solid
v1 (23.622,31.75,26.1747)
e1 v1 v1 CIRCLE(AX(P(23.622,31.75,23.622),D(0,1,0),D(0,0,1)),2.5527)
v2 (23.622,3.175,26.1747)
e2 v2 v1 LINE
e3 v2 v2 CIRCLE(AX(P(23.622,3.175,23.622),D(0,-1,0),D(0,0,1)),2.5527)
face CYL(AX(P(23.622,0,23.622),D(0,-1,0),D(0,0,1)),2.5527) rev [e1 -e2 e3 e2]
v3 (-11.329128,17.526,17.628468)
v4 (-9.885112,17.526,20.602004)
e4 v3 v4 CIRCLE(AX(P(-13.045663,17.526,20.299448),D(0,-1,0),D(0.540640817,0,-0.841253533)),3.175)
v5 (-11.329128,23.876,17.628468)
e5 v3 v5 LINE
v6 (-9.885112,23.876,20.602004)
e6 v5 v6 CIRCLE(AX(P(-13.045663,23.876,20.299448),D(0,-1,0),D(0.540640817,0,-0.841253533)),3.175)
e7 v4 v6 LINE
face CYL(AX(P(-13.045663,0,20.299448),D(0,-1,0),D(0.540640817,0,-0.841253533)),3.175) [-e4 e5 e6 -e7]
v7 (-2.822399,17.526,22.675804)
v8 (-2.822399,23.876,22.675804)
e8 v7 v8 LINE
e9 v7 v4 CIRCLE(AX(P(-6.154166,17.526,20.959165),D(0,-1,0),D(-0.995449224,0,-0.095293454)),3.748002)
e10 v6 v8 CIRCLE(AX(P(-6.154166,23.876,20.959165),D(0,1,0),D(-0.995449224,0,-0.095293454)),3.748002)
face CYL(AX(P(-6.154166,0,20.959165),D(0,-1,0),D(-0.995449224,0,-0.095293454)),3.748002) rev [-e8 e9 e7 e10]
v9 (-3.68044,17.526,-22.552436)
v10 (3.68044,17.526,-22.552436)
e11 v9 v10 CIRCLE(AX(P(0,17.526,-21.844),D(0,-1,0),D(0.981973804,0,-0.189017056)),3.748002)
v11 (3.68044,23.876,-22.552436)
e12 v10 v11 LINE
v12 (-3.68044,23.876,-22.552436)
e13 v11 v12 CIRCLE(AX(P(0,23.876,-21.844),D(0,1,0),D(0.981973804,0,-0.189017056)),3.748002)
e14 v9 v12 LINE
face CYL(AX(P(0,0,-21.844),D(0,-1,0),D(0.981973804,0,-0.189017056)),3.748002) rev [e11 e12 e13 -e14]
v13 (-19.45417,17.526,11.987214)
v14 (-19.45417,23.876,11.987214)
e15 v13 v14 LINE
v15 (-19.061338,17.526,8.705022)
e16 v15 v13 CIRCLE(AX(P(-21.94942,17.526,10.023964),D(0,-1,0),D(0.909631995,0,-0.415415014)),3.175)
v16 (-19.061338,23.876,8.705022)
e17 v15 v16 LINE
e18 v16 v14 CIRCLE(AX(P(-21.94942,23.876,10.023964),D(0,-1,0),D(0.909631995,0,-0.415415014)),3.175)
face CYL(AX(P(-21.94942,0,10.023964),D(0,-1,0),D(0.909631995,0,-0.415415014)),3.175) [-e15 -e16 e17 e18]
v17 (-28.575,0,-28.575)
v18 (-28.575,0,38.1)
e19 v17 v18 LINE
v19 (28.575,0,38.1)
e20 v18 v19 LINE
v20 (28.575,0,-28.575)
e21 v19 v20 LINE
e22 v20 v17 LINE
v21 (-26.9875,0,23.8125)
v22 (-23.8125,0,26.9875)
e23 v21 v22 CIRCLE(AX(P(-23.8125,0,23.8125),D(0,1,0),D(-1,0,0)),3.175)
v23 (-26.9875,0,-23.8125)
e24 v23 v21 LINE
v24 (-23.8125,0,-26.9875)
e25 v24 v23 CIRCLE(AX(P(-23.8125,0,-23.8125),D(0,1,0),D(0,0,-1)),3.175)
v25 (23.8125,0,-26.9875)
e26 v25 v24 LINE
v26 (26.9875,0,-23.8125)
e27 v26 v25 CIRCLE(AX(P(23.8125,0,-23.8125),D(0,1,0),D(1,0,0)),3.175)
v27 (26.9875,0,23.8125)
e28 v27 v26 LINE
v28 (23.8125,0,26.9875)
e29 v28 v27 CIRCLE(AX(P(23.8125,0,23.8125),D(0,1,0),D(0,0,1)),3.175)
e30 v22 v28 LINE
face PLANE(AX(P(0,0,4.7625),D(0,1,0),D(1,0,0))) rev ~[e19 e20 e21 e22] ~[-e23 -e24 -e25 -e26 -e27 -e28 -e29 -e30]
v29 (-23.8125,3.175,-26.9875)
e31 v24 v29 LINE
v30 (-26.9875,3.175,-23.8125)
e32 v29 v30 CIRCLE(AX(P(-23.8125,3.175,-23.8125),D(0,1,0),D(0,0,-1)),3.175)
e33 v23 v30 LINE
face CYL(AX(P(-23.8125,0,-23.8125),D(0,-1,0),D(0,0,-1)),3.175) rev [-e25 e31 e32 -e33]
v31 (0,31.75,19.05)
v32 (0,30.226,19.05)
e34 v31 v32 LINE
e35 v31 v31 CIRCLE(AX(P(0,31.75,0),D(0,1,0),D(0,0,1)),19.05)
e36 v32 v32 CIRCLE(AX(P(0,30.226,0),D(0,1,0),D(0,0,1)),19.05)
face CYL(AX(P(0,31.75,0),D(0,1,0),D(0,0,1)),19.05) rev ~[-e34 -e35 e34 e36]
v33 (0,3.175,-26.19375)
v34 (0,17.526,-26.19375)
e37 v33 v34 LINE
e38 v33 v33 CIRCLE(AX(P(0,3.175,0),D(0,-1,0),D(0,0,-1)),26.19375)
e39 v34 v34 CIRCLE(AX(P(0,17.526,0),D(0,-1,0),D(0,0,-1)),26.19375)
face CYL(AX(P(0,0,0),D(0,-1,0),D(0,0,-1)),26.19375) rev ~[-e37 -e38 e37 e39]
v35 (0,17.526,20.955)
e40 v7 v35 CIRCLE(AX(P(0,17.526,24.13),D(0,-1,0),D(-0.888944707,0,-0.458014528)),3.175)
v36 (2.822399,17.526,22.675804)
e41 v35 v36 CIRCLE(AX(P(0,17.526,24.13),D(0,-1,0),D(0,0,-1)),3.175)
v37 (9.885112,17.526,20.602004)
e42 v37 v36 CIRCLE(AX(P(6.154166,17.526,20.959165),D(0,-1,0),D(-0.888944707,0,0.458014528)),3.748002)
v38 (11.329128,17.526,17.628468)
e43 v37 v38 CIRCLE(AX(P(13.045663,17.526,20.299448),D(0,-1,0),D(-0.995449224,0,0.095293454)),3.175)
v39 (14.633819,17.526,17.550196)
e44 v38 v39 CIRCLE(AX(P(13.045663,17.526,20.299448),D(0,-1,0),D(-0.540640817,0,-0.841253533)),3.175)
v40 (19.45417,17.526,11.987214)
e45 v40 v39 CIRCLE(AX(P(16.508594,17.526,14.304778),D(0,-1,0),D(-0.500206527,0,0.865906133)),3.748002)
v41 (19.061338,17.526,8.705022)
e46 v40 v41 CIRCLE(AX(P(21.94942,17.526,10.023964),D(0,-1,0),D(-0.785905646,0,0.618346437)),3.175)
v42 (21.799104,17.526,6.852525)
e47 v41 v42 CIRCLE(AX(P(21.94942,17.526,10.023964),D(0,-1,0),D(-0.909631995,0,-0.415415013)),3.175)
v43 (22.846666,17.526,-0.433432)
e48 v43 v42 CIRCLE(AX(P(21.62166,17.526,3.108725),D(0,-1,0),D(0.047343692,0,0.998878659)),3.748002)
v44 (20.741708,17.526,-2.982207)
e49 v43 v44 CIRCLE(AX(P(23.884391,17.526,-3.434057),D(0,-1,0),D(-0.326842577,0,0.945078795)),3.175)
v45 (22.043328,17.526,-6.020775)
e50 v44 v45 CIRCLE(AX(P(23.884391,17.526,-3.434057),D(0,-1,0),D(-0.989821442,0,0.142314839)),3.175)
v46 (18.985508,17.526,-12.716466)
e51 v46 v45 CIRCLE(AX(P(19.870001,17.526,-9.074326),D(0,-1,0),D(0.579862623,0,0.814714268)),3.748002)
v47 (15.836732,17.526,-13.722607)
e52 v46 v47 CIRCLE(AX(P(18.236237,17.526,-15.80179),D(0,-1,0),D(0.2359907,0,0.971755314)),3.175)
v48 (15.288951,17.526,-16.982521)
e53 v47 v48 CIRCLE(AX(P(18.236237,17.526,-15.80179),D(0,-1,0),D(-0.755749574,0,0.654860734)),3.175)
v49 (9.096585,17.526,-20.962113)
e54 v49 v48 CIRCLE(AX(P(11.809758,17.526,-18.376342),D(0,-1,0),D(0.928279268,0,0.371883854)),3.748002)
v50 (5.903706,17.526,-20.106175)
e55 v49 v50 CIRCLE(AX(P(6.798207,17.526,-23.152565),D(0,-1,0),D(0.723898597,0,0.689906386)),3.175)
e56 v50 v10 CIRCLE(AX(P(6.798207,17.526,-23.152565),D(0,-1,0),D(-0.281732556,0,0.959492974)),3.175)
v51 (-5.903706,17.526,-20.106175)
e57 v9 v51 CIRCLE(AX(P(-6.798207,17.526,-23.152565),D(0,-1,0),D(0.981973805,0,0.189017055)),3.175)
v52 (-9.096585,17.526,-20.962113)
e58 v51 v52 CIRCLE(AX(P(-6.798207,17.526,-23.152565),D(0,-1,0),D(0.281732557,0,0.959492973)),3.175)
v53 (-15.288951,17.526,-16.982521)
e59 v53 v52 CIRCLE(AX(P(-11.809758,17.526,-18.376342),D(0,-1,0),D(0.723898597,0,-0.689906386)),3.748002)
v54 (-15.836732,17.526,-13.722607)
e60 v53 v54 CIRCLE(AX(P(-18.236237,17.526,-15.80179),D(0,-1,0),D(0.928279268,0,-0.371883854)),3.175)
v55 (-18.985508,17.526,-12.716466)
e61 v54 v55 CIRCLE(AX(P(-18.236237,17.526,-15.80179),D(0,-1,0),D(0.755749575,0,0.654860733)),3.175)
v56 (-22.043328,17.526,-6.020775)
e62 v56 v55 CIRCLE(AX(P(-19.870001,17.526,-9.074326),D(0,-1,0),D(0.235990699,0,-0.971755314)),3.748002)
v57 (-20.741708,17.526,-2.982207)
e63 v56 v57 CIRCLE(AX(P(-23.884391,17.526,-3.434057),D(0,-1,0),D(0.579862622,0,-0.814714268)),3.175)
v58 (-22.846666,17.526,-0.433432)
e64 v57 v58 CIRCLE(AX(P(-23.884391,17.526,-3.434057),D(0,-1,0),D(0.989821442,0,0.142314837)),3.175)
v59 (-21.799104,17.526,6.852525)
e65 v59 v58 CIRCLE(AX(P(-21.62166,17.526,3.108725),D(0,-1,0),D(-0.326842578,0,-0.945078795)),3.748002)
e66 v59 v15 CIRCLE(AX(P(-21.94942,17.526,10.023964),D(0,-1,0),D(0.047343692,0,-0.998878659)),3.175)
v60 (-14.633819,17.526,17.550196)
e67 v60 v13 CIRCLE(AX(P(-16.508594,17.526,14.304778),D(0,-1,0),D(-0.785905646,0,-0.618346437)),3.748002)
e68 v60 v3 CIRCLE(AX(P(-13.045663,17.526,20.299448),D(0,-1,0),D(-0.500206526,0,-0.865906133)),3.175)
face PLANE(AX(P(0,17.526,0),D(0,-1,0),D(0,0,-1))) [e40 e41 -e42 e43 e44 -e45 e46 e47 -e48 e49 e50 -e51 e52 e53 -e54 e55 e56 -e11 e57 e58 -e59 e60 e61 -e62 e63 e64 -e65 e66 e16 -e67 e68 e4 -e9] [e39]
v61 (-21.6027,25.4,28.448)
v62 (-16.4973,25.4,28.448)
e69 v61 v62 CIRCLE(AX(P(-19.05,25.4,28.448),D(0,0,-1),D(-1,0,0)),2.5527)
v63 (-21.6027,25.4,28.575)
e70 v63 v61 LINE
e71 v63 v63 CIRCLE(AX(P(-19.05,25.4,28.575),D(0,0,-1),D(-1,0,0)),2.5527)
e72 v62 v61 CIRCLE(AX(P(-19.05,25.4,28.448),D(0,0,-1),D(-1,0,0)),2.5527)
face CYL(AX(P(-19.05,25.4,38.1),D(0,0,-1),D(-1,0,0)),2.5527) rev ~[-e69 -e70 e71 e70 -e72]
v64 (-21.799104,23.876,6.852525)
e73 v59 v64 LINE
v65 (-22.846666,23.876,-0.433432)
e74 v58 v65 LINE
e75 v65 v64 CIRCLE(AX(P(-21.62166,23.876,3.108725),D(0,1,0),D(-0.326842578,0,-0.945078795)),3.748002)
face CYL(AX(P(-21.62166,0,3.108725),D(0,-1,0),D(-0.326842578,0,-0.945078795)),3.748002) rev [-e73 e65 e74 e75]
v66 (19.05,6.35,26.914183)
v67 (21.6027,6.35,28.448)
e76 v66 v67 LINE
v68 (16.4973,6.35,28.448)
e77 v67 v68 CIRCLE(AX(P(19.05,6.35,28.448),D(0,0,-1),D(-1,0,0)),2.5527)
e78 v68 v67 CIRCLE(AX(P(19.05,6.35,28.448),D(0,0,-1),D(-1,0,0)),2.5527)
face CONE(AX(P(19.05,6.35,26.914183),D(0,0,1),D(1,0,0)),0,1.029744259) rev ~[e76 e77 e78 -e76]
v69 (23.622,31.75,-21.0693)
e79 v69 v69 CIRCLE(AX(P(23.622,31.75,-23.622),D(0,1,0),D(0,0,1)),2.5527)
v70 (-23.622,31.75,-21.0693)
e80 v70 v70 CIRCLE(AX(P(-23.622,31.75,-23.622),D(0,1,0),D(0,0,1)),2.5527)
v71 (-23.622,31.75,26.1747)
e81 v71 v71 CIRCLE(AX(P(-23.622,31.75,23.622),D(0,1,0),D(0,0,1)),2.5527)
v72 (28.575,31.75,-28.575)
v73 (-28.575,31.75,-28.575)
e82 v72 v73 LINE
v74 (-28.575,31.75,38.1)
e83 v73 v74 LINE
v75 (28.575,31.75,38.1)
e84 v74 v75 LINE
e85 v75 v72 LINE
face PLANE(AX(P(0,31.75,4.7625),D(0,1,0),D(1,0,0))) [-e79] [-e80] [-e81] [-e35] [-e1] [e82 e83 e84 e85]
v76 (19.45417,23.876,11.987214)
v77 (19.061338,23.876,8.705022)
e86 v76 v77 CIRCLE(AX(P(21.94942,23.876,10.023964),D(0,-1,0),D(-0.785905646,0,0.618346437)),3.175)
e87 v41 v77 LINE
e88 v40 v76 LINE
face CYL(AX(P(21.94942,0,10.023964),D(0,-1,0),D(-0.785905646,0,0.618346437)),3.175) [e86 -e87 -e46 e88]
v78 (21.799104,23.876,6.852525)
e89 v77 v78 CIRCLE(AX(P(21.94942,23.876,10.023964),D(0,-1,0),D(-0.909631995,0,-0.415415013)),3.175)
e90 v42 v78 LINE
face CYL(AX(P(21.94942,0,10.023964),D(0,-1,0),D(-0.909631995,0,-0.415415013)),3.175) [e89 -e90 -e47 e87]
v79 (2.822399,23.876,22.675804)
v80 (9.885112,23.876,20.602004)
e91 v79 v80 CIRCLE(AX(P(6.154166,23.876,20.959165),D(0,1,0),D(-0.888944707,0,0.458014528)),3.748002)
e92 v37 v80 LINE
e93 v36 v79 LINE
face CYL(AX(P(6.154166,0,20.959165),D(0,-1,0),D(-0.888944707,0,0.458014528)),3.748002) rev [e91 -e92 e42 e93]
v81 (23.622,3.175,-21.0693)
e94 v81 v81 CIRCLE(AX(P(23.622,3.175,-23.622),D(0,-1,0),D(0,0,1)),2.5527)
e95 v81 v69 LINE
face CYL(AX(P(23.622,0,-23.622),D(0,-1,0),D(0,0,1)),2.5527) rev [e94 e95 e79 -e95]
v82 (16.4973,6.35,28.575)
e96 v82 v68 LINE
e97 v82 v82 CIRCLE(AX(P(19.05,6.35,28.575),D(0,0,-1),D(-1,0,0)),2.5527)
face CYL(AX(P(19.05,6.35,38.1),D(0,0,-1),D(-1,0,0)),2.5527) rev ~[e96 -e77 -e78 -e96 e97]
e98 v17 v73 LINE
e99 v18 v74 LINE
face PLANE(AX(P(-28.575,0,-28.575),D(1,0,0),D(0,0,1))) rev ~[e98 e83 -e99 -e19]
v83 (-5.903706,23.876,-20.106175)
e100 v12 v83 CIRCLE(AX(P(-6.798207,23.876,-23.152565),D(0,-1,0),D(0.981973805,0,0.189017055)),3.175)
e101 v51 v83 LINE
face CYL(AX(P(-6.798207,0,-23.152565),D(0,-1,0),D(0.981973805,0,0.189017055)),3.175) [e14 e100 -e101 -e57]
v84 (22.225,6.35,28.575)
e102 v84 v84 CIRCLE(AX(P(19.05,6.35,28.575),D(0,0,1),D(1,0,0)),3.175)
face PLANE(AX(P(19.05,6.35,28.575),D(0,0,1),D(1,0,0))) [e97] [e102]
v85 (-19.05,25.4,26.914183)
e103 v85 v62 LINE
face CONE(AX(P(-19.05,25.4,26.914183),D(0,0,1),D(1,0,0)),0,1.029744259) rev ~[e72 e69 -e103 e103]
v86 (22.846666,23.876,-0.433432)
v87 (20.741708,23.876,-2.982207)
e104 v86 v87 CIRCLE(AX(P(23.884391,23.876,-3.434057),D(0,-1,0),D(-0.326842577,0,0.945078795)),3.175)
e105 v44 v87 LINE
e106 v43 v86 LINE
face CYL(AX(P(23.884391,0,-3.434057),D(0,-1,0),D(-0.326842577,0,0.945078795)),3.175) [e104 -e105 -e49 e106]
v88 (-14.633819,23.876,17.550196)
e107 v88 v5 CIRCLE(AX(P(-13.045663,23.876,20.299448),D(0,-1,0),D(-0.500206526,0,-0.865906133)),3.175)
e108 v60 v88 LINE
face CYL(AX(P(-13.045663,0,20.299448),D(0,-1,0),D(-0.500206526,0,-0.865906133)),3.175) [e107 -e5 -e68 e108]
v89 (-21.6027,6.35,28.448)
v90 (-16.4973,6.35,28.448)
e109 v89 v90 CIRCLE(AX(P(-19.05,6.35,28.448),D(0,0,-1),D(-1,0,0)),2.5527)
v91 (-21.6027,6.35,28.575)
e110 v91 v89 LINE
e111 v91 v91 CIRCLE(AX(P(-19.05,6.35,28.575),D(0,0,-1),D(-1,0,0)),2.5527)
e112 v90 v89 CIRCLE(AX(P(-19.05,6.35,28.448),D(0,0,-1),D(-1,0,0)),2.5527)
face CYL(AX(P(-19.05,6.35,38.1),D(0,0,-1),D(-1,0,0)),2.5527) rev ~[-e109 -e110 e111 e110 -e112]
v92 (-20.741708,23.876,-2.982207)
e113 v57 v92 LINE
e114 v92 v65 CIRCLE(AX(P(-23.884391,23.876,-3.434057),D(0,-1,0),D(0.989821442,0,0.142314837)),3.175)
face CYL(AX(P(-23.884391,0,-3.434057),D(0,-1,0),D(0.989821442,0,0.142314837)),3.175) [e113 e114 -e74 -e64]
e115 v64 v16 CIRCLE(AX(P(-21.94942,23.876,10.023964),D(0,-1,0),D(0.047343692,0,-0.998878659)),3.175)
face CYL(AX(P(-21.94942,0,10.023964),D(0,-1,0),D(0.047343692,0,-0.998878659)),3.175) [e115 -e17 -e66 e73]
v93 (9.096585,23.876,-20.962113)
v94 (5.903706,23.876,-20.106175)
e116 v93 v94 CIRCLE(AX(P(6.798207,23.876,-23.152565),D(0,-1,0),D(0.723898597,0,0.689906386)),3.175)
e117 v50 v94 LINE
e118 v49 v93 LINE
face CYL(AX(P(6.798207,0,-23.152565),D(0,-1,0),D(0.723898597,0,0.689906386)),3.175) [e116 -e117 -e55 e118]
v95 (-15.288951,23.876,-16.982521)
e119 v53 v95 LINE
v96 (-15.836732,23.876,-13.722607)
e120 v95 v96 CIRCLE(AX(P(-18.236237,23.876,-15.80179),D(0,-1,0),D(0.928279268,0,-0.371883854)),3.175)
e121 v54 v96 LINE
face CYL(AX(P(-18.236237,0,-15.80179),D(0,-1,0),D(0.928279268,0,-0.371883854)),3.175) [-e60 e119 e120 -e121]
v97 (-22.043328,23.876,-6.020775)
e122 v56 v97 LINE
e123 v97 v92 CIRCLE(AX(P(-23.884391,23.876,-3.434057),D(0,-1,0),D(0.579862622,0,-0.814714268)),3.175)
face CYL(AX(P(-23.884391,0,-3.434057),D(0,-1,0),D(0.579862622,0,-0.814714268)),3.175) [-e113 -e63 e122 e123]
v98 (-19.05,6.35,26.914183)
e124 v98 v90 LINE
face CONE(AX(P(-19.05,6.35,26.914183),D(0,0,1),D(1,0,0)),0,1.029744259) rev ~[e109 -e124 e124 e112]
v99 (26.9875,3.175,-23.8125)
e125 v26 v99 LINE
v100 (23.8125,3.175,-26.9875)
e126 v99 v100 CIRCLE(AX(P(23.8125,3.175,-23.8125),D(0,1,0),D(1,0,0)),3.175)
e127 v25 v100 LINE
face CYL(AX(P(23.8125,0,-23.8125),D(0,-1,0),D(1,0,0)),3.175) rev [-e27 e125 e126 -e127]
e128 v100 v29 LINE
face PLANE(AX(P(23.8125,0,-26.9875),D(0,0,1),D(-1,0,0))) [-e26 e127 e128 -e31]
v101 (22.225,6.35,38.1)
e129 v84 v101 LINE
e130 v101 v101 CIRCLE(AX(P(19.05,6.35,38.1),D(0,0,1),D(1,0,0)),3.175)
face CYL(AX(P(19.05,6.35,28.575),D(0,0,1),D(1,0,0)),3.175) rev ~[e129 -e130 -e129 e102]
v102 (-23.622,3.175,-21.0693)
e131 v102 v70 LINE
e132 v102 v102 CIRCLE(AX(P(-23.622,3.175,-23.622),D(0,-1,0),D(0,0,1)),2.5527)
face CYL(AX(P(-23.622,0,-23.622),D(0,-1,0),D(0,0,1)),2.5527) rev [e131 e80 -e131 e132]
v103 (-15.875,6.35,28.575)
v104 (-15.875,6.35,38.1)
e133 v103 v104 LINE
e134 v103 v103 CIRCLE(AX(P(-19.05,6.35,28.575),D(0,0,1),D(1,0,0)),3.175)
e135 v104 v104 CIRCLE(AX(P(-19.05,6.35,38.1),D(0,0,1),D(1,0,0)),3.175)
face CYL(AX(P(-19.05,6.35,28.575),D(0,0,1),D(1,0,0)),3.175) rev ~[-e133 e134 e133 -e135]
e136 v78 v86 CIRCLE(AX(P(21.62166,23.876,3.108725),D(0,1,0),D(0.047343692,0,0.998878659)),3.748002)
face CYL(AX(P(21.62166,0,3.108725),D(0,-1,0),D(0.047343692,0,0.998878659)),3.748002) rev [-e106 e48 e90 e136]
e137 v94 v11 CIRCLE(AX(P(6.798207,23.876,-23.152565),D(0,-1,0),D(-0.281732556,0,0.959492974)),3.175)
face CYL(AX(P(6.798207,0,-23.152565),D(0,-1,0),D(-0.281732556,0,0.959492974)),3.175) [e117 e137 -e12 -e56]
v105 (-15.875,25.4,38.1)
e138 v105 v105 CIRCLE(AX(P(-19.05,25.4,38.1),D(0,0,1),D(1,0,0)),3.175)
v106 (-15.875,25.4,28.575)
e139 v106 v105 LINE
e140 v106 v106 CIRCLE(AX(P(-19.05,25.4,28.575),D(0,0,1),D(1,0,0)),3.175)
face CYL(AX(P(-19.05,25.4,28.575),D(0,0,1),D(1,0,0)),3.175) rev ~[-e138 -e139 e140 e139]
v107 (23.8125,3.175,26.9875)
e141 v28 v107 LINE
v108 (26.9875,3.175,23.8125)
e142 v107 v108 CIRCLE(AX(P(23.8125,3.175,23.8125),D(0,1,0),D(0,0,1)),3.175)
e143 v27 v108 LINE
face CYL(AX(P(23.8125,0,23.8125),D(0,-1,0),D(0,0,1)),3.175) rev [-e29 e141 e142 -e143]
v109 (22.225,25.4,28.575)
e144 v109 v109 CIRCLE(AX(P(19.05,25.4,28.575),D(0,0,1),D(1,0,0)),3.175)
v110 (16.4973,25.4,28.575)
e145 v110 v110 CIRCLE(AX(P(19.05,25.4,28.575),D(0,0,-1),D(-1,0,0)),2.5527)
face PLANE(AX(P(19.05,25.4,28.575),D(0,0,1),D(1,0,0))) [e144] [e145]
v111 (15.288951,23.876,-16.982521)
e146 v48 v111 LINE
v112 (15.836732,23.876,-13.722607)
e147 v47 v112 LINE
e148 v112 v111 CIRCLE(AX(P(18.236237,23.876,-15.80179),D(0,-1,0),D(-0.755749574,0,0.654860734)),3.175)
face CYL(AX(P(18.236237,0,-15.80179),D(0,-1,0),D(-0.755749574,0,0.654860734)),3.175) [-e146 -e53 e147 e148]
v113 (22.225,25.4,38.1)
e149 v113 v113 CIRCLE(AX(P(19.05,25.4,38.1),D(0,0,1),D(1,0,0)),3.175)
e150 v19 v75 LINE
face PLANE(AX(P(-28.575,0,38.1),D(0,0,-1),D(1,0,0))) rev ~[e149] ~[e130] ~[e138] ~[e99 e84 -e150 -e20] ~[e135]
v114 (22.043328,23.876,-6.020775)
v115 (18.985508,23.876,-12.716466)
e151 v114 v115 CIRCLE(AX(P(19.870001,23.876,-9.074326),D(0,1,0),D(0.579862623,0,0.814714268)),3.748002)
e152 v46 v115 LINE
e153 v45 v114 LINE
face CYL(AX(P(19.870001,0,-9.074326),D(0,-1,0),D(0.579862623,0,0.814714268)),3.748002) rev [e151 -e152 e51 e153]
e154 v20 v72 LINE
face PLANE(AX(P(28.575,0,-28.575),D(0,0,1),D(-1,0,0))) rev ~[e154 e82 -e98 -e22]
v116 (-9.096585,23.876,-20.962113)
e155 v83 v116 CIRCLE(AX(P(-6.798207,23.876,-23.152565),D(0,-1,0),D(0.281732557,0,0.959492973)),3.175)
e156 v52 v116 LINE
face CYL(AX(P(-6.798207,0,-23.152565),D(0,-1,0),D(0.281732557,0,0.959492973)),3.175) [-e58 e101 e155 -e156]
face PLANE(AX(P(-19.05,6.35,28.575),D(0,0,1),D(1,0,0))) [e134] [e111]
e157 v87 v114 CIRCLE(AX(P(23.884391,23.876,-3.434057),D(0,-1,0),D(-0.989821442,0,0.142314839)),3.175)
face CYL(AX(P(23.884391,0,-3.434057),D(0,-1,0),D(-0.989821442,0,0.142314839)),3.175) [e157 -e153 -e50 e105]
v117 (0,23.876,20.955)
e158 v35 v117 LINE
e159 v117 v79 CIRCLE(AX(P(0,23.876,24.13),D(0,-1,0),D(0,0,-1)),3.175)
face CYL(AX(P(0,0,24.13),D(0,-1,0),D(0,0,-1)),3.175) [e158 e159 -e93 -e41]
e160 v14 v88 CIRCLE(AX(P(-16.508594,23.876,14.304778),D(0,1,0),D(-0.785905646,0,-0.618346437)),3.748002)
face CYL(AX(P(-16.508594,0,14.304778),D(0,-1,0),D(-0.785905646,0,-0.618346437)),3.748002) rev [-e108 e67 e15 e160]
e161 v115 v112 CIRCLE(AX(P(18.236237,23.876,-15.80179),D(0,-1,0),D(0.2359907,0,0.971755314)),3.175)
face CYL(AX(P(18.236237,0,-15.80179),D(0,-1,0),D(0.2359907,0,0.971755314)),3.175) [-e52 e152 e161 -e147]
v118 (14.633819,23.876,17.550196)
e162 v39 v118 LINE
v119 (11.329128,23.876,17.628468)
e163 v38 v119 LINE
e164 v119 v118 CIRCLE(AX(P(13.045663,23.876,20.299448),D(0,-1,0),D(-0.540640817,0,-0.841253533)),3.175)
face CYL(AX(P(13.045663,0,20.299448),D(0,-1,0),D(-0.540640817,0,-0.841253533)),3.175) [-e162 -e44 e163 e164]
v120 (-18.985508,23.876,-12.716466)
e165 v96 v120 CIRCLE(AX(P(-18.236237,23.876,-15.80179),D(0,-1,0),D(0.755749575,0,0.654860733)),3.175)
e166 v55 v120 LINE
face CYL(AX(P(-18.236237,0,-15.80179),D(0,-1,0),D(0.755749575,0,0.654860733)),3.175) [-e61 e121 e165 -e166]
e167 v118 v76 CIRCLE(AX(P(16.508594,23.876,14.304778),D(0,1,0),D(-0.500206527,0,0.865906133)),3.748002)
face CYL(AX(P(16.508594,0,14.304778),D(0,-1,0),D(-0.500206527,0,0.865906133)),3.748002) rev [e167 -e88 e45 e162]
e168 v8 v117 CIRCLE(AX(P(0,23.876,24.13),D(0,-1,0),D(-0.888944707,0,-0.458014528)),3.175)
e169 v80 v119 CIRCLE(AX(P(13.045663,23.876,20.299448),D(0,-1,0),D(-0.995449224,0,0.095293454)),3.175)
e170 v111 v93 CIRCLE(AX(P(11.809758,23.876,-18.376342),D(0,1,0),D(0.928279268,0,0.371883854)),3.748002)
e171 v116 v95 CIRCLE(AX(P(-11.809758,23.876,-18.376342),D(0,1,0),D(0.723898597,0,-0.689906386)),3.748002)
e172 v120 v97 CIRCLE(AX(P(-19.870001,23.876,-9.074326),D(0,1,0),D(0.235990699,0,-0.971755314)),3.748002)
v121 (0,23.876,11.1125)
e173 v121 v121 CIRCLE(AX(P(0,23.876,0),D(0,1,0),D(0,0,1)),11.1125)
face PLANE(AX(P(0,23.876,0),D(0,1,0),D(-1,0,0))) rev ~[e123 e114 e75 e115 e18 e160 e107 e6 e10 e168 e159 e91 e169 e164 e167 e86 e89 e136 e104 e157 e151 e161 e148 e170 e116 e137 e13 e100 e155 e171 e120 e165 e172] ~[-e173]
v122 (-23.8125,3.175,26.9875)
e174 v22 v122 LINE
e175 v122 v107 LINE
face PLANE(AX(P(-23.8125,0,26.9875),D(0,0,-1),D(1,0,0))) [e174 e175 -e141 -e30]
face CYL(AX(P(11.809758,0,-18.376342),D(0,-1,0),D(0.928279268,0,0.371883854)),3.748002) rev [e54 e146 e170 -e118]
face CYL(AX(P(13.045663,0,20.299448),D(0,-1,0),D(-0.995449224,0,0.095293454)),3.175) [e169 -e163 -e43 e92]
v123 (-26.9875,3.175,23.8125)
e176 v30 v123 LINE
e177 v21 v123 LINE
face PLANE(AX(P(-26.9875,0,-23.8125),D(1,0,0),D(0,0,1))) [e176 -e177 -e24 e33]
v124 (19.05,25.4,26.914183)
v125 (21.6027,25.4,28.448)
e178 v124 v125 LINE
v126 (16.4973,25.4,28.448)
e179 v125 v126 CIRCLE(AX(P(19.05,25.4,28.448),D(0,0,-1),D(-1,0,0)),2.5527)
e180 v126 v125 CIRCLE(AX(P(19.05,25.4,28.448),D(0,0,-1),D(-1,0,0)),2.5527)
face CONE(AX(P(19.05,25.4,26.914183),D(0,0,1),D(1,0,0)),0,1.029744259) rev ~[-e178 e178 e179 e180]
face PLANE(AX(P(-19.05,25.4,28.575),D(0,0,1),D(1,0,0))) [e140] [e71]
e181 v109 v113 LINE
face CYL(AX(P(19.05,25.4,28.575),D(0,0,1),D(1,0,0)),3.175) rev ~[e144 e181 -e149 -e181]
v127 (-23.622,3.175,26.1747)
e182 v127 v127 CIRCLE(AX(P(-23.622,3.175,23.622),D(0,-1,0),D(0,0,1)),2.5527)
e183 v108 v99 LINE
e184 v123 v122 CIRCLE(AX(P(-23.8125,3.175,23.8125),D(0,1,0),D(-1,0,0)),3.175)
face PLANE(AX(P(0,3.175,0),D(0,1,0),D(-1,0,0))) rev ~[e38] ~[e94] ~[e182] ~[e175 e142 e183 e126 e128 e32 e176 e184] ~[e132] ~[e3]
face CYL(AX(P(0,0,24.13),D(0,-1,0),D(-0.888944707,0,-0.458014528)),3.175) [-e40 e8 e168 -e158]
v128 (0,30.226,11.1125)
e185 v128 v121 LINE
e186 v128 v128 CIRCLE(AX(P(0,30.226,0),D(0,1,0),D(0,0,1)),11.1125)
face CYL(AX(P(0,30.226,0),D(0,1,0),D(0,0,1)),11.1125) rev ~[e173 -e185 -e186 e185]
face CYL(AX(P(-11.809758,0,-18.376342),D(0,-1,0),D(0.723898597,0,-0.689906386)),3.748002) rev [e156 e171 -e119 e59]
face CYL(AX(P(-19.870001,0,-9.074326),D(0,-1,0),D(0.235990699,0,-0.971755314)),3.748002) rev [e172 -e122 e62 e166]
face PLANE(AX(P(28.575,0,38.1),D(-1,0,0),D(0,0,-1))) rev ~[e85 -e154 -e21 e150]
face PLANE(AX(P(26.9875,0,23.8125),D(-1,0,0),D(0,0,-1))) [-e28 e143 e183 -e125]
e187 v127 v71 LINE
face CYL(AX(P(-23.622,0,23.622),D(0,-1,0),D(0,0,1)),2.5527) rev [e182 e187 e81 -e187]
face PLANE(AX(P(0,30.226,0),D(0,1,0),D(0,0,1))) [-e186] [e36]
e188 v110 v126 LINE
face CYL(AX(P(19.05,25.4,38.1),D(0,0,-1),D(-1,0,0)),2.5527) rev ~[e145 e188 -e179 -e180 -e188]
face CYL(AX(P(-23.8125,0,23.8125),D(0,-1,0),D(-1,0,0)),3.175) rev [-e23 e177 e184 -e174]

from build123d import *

# Parameters (mm, degrees)
SKETCH1_R                         = 2.5527
BOSS_EXTRUDE1_DEPTH               = 31.75
SKETCH2_R                         = 19.05
CUT_EXTRUDE1_DEPTH                = 1.524
SKETCH3_R                         = 11.1125
CUT_EXTRUDE2_DEPTH                = 57.407018189
CUT_EXTRUDE3_DEPTH                = 23.876
SKETCH5_R                         = 26.19375
CUT_EXTRUDE4_DEPTH                = 17.526
CUT_EXTRUDE5_DEPTH                = 3.175
F_1_4_20_TAPPED_HOLE1_D           = 5.1054
F_1_4_20_TAPPED_HOLE1_DEPTH       = 9.652
F_1_4_20_TAPPED_HOLE1_CBORE_D     = 6.35
F_1_4_20_TAPPED_HOLE1_CBORE_DEPTH = 9.525
F_1_4_20_TAPPED_HOLE1_TIP         = 1.533816902


with BuildPart() as part:
    # Sketch1 → Boss-Extrude1 (new body)
    with BuildSketch(Plane(origin=(0, 0, 0), x_dir=(1, 0, 0), z_dir=(0, 1, 0))):
        Polygon((28.575, 28.575), (-28.575, 28.575), (-28.575, -28.575), (-28.575, -38.1), (28.575, -38.1), (28.575, -28.575), align=None)
        with Locations(Location((23.622, -23.622, 0), (0, 0, 270))):
            Circle(SKETCH1_R, mode=Mode.SUBTRACT)
        with Locations(Location((23.622, 23.622, 0), (0, 0, 270))):
            Circle(SKETCH1_R, mode=Mode.SUBTRACT)
        with Locations(Location((-23.622, 23.622, 0), (0, 0, 270))):
            Circle(SKETCH1_R, mode=Mode.SUBTRACT)
        with Locations(Location((-23.622, -23.622, 0), (0, 0, 270))):
            Circle(SKETCH1_R, mode=Mode.SUBTRACT)
    extrude(amount=BOSS_EXTRUDE1_DEPTH)

    # Sketch2 → Cut-Extrude1 (cut)
    with BuildSketch(Plane(origin=(0, 31.75, 0), x_dir=(1, 0, 0), z_dir=(0, 1, 0))):
        with Locations(Location((0, 0, 0), (0, 0, 270))):
            Circle(SKETCH2_R)
    extrude(amount=-CUT_EXTRUDE1_DEPTH, mode=Mode.SUBTRACT)

    # Sketch3 → Cut-Extrude2 (cut, through all)
    with BuildSketch(Plane(origin=(0, 30.226, 0), x_dir=(1, 0, 0), z_dir=(0, 1, 0))):
        with Locations(Location((0, 0, 0), (0, 0, 270))):
            Circle(SKETCH3_R)
    extrude(amount=-CUT_EXTRUDE2_DEPTH, mode=Mode.SUBTRACT)

    # Sketch4 → Cut-Extrude3 (cut)
    with BuildSketch(Plane.XZ):
        with BuildLine():
            ThreePointArc((0, 20.955), (1.652808564, 21.41912397), (2.822399445, 22.675803874))
            ThreePointArc((2.822399445, 22.675803874), (7.210100154, 24.555346085), (9.885111639, 20.602004462))
            ThreePointArc((9.885111639, 20.602004462), (10.189621648, 18.912489483), (11.32912833, 17.62846778))
            ThreePointArc((11.32912833, 17.62846778), (12.970483736, 17.125337937), (14.633818648, 17.550195776))
            ThreePointArc((14.633818648, 17.550195776), (19.341144607, 16.759197203), (19.454169622, 11.9872142))
            ThreePointArc((19.454169622, 11.9872142), (18.796918984, 10.401273215), (19.061338463, 8.705021597))
            ThreePointArc((19.061338463, 8.705021597), (20.170121967, 7.39437811), (21.799103827, 6.852524522))
            ThreePointArc((21.799103827, 6.852524522), (25.331512305, 3.642121623), (22.846666207, -0.433431873))
            ThreePointArc((22.846666207, -0.433431873), (21.436327355, -1.412273807), (20.741708315, -2.982207436))
            ThreePointArc((20.741708315, -2.982207436), (20.965888988, -4.68424452), (22.043327566, -6.02077485))
            ThreePointArc((22.043327566, -6.02077485), (23.27930383, -10.631301837), (18.985507698, -12.716466389))
            ThreePointArc((18.985507698, -12.716466389), (17.269853253, -12.777433874), (15.836732331, -13.72260668))
            ThreePointArc((15.836732331, -13.72260668), (15.105134394, -15.275652613), (15.288950554, -16.982520747))
            ThreePointArc((15.288950554, -16.982520747), (13.836080873, -21.529362082), (9.09658464, -20.962112676))
            ThreePointArc((9.09658464, -20.962112676), (7.620322766, -20.085848967), (5.903705729, -20.106175262))
            ThreePointArc((5.903705729, -20.106175262), (4.448606357, -21.017148933), (3.680439768, -22.552436301))
            ThreePointArc((3.680439768, -22.552436301), (0, -25.592001984), (-3.680439768, -22.552436301))
            ThreePointArc((-3.680439768, -22.552436301), (-4.448606357, -21.017148933), (-5.903705729, -20.106175262))
            ThreePointArc((-5.903705729, -20.106175262), (-7.620322766, -20.085848967), (-9.09658464, -20.962112676))
            ThreePointArc((-9.09658464, -20.962112676), (-13.836080873, -21.529362082), (-15.288950554, -16.982520747))
            ThreePointArc((-15.288950554, -16.982520747), (-15.105134394, -15.275652613), (-15.836732331, -13.72260668))
            ThreePointArc((-15.836732331, -13.72260668), (-17.269853253, -12.777433874), (-18.985507698, -12.716466389))
            ThreePointArc((-18.985507698, -12.716466389), (-23.27930383, -10.631301837), (-22.043327566, -6.02077485))
            ThreePointArc((-22.043327566, -6.02077485), (-20.965888988, -4.68424452), (-20.741708315, -2.982207436))
            ThreePointArc((-20.741708315, -2.982207436), (-21.436327355, -1.412273807), (-22.846666207, -0.433431873))
            ThreePointArc((-22.846666207, -0.433431873), (-25.331512305, 3.642121623), (-21.799103827, 6.852524522))
            ThreePointArc((-21.799103827, 6.852524522), (-20.170121967, 7.39437811), (-19.061338463, 8.705021597))
            ThreePointArc((-19.061338463, 8.705021597), (-18.796918984, 10.401273215), (-19.454169622, 11.9872142))
            ThreePointArc((-19.454169622, 11.9872142), (-19.341144607, 16.759197203), (-14.633818648, 17.550195776))
            ThreePointArc((-14.633818648, 17.550195776), (-12.970483736, 17.125337937), (-11.32912833, 17.62846778))
            ThreePointArc((-11.32912833, 17.62846778), (-10.189621648, 18.912489483), (-9.885111639, 20.602004462))
            ThreePointArc((-9.885111639, 20.602004462), (-7.210100154, 24.555346085), (-2.822399445, 22.675803874))
            ThreePointArc((-2.822399445, 22.675803874), (-1.652808564, 21.41912397), (0, 20.955))
        make_face()
    extrude(amount=-CUT_EXTRUDE3_DEPTH, mode=Mode.SUBTRACT)

    # Sketch5 → Cut-Extrude4 (cut)
    with BuildSketch(Plane.XZ):
        with Locations(Location((0, 0, 0), (0, 0, 270))):
            Circle(SKETCH5_R)
    extrude(amount=-CUT_EXTRUDE4_DEPTH, mode=Mode.SUBTRACT)

    # Sketch7 → Cut-Extrude5 (cut)
    with BuildSketch(Plane.XZ):
        with BuildLine():
            Line((-23.8125, 26.9875), (23.8125, 26.9875))
            ThreePointArc((23.8125, 26.9875), (26.05756403, 26.05756403), (26.9875, 23.8125))
            Line((26.9875, 23.8125), (26.9875, -23.8125))
            ThreePointArc((26.9875, -23.8125), (26.05756403, -26.05756403), (23.8125, -26.9875))
            Line((23.8125, -26.9875), (-23.8125, -26.9875))
            ThreePointArc((-23.8125, -26.9875), (-26.05756403, -26.05756403), (-26.9875, -23.8125))
            Line((-26.9875, -23.8125), (-26.9875, 23.8125))
            ThreePointArc((-26.9875, 23.8125), (-26.05756403, 26.05756403), (-23.8125, 26.9875))
        make_face()
    extrude(amount=-CUT_EXTRUDE5_DEPTH, mode=Mode.SUBTRACT)

    # 1/4-20 Tapped Hole1
    with Locations(Plane.XY.offset(38.1)):
        with Locations((-19.05, 25.4), (19.05, 25.4), (19.05, 6.35), (-19.05, 6.35)):
            CounterBoreHole(F_1_4_20_TAPPED_HOLE1_D / 2, F_1_4_20_TAPPED_HOLE1_CBORE_D / 2, F_1_4_20_TAPPED_HOLE1_CBORE_DEPTH, depth=F_1_4_20_TAPPED_HOLE1_DEPTH)
            with Locations((0, 0, -(F_1_4_20_TAPPED_HOLE1_DEPTH + F_1_4_20_TAPPED_HOLE1_TIP / 2))):  # 118° drill point
                Cone(0, F_1_4_20_TAPPED_HOLE1_D / 2, F_1_4_20_TAPPED_HOLE1_TIP, mode=Mode.SUBTRACT)


solid = part.part
